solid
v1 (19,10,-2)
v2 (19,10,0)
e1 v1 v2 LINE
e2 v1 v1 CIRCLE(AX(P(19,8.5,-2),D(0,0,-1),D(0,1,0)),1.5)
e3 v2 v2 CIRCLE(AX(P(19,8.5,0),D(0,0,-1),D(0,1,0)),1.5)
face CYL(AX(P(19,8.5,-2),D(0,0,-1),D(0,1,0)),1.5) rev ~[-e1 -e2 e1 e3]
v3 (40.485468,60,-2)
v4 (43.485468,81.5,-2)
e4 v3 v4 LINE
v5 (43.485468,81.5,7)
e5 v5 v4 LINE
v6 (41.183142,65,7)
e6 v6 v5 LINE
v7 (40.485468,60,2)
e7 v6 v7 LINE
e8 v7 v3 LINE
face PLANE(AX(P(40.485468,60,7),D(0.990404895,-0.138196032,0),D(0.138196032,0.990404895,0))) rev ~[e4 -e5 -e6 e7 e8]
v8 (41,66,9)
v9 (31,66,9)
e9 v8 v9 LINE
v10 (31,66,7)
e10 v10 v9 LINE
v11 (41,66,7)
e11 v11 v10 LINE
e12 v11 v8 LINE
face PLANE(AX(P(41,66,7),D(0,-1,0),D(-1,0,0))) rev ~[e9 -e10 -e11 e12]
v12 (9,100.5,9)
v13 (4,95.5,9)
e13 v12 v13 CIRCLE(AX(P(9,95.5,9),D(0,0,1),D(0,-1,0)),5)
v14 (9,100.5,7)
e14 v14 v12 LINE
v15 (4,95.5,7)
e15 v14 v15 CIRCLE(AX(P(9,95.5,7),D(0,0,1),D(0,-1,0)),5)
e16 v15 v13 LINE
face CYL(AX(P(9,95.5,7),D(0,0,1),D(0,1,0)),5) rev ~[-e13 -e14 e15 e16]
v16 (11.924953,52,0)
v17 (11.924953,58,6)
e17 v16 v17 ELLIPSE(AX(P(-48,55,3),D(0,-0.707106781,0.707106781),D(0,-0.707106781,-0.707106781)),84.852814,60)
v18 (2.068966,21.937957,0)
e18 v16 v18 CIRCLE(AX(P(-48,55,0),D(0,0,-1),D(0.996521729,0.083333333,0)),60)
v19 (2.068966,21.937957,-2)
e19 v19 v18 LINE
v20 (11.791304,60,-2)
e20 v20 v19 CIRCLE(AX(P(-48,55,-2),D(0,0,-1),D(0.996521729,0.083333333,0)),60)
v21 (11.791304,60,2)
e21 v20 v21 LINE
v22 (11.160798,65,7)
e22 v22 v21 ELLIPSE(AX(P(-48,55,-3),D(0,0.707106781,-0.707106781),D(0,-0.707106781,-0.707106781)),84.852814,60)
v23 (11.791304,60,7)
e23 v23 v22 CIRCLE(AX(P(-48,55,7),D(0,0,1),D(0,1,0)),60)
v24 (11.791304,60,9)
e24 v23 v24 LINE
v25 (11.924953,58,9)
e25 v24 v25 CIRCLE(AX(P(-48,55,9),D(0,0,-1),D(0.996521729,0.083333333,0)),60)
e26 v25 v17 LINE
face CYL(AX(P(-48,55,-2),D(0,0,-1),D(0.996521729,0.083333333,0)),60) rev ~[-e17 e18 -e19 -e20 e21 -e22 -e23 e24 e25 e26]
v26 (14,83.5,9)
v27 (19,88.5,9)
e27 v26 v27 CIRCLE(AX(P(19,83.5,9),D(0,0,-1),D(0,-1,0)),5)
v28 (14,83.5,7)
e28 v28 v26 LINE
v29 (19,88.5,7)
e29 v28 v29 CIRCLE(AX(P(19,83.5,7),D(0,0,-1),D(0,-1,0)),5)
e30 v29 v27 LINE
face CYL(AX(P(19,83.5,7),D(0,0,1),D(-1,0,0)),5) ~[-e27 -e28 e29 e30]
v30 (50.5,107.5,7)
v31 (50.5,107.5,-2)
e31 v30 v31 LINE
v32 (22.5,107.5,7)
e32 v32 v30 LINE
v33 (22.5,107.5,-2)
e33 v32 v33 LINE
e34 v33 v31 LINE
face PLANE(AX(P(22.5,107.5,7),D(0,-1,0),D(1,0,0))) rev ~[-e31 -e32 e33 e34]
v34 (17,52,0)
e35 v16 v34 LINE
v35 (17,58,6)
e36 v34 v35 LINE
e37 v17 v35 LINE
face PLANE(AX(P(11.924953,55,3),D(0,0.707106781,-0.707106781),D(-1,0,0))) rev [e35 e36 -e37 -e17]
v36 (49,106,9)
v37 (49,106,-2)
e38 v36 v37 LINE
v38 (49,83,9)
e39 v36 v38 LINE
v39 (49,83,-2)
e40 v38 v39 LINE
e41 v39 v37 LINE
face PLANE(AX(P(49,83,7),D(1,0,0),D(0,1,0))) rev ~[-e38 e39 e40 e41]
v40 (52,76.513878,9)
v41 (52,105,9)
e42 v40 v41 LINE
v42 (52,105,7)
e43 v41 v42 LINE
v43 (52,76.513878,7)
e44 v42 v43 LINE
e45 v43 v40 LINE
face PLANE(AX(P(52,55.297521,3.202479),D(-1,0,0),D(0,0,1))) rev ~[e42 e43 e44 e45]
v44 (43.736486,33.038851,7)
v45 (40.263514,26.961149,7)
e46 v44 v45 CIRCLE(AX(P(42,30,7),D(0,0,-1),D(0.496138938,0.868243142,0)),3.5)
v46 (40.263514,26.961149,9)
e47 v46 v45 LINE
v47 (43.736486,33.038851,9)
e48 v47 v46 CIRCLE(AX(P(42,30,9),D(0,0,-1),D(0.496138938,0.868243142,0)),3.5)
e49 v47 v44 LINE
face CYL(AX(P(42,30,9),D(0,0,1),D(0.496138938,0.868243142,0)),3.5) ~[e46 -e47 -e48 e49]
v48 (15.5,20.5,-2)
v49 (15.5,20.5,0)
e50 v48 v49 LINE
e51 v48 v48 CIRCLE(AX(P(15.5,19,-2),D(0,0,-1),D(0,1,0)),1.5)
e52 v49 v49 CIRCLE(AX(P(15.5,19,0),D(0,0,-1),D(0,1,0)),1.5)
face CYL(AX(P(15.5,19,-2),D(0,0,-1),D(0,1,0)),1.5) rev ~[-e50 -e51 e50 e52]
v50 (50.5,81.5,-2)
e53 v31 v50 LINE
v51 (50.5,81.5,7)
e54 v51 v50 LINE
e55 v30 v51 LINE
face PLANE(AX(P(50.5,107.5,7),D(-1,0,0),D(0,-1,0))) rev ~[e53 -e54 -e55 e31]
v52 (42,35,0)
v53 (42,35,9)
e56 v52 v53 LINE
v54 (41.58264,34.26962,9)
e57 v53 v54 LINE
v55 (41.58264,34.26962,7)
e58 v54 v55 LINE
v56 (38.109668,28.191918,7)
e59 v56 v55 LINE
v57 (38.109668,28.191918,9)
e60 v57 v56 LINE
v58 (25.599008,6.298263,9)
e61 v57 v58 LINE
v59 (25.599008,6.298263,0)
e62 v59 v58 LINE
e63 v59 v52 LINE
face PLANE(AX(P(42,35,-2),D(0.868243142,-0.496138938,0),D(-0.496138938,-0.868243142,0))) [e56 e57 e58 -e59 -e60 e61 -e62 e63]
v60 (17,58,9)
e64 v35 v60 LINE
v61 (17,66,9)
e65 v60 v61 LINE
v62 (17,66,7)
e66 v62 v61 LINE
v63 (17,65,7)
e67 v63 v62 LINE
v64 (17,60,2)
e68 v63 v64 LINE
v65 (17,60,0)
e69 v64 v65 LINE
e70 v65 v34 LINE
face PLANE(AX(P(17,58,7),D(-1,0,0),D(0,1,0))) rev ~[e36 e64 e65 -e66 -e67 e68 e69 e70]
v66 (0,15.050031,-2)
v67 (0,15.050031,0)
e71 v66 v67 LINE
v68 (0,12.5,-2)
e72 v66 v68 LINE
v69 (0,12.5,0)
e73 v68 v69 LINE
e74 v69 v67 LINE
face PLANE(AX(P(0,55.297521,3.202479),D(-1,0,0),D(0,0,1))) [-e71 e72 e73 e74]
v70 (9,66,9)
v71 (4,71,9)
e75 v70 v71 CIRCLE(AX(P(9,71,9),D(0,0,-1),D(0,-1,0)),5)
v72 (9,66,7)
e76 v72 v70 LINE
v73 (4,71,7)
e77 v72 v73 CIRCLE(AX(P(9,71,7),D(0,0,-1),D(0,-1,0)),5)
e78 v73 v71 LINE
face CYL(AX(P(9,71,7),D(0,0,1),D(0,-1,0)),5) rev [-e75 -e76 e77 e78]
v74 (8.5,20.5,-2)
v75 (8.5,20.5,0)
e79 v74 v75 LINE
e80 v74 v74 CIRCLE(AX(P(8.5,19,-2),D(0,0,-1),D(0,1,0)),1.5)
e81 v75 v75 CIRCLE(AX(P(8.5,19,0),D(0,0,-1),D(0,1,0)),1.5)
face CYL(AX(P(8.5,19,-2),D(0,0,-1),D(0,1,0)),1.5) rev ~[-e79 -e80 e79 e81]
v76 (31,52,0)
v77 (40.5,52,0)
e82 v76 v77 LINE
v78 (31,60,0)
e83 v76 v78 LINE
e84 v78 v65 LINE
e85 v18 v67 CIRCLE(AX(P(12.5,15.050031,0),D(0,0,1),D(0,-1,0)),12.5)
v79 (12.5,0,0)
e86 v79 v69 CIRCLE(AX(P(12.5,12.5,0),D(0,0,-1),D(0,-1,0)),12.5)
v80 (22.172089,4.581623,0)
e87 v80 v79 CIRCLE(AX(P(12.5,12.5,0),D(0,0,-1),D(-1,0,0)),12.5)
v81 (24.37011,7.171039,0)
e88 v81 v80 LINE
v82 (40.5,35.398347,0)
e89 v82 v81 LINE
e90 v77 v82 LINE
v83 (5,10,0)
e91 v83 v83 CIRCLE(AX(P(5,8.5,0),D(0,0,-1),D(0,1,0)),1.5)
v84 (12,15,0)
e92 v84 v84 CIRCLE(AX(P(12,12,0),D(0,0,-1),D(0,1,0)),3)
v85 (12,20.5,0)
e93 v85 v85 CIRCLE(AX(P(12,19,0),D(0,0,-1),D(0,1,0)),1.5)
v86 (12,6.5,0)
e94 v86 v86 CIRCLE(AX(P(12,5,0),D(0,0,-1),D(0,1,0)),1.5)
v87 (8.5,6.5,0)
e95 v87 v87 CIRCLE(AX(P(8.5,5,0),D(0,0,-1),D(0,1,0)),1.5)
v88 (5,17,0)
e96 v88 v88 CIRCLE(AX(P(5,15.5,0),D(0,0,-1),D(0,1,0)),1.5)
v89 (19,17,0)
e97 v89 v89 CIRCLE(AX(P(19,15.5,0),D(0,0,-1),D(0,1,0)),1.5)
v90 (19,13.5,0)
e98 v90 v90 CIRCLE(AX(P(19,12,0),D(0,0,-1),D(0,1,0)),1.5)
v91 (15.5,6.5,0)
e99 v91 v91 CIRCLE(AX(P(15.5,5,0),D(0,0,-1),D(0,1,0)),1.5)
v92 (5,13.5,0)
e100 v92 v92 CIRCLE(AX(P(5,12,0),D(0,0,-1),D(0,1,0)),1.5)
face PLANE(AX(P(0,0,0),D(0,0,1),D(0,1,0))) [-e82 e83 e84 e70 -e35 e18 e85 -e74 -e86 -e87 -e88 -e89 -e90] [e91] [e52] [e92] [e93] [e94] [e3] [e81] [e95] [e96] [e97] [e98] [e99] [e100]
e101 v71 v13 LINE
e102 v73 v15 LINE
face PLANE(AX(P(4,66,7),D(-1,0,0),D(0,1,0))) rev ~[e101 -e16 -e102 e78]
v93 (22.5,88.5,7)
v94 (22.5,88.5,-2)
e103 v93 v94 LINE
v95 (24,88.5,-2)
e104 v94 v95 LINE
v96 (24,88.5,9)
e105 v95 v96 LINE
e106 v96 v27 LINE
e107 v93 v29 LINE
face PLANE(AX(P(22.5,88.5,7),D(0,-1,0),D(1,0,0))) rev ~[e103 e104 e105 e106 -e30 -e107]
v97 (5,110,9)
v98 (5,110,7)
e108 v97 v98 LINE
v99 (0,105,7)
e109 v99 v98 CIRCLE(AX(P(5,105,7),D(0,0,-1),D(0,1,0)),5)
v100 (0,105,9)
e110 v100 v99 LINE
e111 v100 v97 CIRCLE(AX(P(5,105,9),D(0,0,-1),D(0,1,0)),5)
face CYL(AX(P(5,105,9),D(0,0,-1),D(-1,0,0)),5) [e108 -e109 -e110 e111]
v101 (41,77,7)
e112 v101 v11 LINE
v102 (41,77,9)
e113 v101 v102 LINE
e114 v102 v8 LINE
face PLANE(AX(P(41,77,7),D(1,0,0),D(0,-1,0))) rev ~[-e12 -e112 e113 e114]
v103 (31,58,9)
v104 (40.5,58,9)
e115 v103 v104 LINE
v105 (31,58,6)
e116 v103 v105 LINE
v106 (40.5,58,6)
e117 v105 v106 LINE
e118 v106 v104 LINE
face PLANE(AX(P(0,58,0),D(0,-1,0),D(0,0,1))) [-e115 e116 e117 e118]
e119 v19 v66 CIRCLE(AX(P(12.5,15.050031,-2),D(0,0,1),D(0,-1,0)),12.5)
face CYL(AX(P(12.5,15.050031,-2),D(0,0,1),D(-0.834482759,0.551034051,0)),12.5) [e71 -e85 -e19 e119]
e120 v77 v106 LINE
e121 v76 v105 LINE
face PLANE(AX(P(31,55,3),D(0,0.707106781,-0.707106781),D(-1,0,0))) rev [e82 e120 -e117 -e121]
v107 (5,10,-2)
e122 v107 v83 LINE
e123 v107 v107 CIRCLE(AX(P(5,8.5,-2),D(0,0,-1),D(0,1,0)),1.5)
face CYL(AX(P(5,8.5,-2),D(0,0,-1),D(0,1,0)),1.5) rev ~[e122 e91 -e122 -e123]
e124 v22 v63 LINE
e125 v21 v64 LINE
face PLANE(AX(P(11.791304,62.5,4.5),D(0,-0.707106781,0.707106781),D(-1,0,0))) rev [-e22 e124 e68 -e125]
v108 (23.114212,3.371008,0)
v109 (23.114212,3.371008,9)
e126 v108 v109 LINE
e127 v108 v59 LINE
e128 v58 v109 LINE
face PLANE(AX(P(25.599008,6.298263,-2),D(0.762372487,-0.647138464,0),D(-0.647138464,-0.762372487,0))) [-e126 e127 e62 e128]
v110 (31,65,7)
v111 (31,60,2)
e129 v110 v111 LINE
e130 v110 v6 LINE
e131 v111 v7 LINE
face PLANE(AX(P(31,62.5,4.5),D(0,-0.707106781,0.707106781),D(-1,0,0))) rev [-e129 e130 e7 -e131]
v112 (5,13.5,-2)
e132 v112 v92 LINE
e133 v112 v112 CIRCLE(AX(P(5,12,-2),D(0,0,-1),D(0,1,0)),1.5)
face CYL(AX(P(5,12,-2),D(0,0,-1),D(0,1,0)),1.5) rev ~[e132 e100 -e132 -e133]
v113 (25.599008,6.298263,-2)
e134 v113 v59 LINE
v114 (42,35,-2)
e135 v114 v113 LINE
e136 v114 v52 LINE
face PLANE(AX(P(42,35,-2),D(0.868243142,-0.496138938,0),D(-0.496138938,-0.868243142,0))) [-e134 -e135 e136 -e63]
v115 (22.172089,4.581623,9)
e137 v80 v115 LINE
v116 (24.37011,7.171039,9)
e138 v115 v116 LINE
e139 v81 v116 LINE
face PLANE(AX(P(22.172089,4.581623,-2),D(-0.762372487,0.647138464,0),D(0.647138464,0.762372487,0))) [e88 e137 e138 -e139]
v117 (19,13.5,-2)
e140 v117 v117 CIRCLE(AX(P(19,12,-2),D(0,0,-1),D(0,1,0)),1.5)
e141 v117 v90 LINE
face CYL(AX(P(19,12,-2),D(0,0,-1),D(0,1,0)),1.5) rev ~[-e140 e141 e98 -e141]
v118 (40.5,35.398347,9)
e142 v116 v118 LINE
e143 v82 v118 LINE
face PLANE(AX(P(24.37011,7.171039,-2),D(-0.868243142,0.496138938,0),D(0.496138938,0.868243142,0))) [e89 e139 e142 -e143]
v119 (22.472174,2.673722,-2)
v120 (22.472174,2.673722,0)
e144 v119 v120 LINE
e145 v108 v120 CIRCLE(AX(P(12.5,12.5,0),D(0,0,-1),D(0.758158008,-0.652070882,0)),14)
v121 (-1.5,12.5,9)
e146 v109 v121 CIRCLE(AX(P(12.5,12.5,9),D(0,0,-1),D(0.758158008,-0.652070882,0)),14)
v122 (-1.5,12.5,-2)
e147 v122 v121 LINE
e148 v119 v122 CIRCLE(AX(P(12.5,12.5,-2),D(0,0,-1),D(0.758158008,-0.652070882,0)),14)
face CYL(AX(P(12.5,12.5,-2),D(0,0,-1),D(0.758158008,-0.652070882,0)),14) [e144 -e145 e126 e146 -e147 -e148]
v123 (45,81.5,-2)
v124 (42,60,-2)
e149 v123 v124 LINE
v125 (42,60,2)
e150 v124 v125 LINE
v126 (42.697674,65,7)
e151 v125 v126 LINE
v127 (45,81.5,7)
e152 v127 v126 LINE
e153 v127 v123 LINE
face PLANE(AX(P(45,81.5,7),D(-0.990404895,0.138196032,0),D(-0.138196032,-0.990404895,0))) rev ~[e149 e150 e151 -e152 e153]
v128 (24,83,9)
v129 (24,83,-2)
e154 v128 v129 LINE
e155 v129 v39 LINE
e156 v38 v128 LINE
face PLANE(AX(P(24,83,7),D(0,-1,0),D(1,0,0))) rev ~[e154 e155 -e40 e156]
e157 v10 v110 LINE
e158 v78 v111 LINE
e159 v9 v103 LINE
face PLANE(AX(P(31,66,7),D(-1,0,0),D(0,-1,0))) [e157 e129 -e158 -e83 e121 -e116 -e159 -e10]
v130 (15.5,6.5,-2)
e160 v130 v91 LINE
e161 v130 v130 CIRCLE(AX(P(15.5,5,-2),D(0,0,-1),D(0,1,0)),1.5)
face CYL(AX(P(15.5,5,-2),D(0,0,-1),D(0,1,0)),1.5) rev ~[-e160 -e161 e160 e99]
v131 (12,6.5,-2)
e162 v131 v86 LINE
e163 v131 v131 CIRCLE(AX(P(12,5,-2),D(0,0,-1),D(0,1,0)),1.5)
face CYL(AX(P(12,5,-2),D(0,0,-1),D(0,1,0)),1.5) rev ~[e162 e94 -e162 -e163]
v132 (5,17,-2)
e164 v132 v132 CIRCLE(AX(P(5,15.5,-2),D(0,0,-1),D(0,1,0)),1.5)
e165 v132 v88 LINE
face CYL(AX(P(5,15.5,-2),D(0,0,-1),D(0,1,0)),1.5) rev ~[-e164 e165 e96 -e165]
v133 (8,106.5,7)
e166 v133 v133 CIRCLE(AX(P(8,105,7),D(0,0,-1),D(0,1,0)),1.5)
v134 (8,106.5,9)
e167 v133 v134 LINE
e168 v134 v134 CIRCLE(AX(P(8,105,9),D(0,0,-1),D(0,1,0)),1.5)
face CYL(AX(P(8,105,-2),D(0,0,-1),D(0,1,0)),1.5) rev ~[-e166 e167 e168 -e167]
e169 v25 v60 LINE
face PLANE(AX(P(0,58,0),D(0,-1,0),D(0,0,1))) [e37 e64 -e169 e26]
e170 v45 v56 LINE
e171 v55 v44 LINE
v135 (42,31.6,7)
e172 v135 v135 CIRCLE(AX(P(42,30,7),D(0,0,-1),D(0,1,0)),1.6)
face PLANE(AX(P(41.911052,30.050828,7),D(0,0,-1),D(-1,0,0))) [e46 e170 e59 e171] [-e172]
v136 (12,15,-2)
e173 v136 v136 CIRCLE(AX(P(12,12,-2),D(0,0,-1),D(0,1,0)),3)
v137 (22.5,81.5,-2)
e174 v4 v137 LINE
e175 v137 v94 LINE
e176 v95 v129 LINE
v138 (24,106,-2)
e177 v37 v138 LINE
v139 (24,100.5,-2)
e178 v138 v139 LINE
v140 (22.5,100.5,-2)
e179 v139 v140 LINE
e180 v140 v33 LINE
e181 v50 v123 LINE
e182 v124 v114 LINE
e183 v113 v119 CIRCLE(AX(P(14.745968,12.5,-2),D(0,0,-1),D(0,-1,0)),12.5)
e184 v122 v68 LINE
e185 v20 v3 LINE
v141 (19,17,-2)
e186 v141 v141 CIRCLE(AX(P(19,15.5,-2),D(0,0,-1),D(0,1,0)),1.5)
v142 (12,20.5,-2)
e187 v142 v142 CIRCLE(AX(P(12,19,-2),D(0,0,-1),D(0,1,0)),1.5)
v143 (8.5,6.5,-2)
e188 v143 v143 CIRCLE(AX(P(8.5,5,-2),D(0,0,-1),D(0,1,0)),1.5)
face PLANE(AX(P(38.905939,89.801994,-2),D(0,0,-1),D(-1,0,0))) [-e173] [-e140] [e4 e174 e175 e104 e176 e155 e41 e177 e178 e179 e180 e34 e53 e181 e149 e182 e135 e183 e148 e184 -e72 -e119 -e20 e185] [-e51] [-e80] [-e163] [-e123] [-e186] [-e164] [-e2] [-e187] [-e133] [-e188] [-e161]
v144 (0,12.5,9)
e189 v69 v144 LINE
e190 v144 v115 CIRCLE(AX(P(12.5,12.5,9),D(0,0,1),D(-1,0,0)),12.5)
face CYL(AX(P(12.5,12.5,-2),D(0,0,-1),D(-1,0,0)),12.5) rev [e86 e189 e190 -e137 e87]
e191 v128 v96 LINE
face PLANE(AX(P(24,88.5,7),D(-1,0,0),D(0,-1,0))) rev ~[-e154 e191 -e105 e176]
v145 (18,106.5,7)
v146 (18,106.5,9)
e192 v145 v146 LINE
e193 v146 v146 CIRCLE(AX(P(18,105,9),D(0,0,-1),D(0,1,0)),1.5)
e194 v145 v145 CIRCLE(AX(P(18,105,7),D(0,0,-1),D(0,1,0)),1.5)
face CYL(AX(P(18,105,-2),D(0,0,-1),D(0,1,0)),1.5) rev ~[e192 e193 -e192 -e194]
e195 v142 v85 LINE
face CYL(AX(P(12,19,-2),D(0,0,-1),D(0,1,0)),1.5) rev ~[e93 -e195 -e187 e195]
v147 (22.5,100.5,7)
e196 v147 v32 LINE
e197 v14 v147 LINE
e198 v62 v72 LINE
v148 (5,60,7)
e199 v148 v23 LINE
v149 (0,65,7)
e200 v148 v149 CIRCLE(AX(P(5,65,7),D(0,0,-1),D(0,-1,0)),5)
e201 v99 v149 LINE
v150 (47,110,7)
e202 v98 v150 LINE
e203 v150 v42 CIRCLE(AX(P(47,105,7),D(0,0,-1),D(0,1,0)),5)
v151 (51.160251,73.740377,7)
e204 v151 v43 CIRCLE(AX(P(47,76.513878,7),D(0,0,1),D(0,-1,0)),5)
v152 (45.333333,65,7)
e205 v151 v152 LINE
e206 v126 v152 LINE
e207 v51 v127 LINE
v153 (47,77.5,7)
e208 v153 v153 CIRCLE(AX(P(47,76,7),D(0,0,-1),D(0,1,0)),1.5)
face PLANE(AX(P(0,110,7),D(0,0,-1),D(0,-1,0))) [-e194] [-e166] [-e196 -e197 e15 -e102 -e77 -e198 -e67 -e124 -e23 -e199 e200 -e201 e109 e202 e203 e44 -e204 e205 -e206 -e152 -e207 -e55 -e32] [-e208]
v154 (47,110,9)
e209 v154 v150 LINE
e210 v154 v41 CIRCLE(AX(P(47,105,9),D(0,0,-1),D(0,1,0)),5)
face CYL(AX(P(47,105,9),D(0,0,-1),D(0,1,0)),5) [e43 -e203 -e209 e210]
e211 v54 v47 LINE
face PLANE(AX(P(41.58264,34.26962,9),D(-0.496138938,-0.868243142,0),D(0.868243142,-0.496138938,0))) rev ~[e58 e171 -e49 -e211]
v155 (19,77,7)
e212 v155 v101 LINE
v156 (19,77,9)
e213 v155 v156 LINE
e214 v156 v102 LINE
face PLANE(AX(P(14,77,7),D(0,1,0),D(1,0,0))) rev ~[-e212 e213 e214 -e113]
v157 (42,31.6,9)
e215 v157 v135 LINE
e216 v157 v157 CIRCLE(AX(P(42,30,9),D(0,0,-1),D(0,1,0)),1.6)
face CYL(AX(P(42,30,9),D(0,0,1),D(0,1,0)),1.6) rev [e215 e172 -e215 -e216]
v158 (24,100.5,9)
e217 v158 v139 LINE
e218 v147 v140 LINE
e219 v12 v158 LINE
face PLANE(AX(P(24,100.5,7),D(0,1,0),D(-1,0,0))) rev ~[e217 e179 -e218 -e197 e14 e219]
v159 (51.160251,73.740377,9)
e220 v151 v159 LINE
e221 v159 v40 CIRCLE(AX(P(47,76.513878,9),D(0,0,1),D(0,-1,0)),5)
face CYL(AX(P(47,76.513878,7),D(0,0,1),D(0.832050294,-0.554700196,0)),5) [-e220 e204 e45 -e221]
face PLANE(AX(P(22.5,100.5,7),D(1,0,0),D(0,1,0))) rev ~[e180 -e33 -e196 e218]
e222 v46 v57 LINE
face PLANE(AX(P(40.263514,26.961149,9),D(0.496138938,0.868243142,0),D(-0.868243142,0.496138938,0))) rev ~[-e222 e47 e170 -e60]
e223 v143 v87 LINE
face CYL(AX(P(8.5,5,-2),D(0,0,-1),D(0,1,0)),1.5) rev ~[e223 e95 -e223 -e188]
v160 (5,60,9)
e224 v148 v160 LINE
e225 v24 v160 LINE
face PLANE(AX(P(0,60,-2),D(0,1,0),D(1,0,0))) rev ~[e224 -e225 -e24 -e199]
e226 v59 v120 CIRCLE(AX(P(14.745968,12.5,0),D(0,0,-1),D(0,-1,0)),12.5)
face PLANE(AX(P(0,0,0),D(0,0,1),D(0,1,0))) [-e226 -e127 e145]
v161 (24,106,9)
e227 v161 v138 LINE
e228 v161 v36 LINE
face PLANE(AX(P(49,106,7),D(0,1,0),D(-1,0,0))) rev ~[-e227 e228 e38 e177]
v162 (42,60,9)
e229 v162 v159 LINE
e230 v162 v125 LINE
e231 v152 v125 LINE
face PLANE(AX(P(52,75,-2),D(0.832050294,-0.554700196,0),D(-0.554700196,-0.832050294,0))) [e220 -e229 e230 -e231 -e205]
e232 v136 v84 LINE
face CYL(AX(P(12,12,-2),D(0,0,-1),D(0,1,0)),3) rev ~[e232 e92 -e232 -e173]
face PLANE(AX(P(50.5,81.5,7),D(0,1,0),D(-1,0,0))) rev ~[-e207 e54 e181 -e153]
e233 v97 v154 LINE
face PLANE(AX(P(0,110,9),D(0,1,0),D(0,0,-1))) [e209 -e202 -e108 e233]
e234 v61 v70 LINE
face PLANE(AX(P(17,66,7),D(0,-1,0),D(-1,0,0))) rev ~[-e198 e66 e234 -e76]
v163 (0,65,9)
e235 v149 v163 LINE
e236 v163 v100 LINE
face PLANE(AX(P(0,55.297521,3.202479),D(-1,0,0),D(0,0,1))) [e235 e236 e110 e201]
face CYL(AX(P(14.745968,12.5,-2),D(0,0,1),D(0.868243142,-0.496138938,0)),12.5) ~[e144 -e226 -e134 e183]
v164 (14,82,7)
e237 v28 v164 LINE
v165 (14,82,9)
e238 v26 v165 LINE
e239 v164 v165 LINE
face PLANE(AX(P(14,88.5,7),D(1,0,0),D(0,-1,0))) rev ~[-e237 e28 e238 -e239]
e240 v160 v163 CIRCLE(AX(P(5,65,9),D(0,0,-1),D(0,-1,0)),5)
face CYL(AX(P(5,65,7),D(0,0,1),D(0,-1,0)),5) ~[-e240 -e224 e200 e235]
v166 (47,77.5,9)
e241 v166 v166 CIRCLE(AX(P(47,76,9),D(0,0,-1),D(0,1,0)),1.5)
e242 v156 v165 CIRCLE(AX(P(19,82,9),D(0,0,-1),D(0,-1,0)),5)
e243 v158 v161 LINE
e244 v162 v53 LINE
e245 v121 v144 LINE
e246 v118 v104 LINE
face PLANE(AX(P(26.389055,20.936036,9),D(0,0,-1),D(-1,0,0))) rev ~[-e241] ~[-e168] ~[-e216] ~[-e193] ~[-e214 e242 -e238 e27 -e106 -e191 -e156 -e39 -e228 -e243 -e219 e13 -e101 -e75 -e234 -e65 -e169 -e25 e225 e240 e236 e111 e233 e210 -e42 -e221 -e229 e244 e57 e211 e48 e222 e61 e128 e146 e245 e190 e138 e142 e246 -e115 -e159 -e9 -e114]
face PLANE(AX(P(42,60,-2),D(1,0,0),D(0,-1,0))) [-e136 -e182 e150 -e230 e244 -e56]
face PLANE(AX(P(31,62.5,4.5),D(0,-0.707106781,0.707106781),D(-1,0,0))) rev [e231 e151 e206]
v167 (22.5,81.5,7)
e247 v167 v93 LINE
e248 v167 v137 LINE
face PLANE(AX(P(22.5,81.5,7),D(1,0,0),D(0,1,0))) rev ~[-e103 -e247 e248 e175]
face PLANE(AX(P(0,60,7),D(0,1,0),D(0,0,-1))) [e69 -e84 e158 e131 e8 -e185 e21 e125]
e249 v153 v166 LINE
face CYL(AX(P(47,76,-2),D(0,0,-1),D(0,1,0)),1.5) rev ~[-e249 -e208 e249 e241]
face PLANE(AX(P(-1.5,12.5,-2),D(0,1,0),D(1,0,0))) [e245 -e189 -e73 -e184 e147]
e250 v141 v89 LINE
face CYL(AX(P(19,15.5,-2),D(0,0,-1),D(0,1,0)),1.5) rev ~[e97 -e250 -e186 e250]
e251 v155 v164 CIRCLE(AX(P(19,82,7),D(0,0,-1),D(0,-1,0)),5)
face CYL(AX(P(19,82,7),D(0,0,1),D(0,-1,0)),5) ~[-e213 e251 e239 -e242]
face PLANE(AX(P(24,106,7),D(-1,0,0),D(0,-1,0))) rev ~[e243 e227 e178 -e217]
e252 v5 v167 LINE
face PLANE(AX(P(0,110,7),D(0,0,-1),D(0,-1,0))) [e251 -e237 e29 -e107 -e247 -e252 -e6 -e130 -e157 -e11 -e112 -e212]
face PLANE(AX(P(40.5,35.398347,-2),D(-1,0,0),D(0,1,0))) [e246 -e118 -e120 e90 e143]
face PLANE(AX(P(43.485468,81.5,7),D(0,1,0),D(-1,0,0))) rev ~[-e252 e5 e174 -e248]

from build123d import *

# Parameters (mm, degrees)
EXTRUDE_1_DEPTH                 = 52
CUT_EXTRUDE_1_REACH             = 124.004
CUT_EXTRUDE_1_DIRECTION_2_DEPTH = 7
SKETCH_3_R                      = 1.5
SKETCH_3_R_2                    = 3
CUT_EXTRUDE_2_DEPTH             = 123.167917229
FILLET_1_R                      = 5
CHAMFER_1_SIZE                  = 5
FILLET_2_R                      = 12.5
EXTRUDE_2_DEPTH                 = 9
EXTRUDE_3_DEPTH                 = 9
EXTRUDE_3_DEPTH_BACK            = 2
CHAMFER_3_SIZE                  = 6
EXTRUDE_START                   = -11
SKETCH_7_R                      = 1.6
EXTRUDE_4_DEPTH                 = 2


with BuildPart() as part:
    # 草图1 → 凸台-拉伸1 (new body)
    with BuildSketch(Plane(origin=(0, 0, 0), x_dir=(0, 0, -1), z_dir=(1, 0, 0))):
        Polygon((0, 0), (0, 58), (-9, 58), (-9, 110), (-7, 110), (-7, 60), (2, 60), (2, 0), align=None)
    extrude(amount=EXTRUDE_1_DEPTH)

    # 草图2 → 切除-拉伸1 (cut, up to next)
    with BuildSketch(Plane(origin=(0, 0, 7), x_dir=(-1, 0, 0), z_dir=(0, 0, -1)), mode=Mode.PRIVATE) as cut_extrude_1_sk1:
        Polygon((-49, 106), (-49, 83), (-24, 83), (-24, 88.5), (-14, 88.5), (-14, 77), (-41, 77), (-41, 66), (-31, 66), (-31, 58), (-17, 58), (-17, 66), (-4, 66), (-4, 100.5), (-24, 100.5), (-24, 106), align=None)
    cut_extrude_1_tool1 = extrude(cut_extrude_1_sk1.sketch, amount=-CUT_EXTRUDE_1_REACH, mode=Mode.PRIVATE) & part.part
    add(cut_extrude_1_tool1.solids().sort_by_distance((25.692202, 84.595066, 7))[0], mode=Mode.SUBTRACT)

    # 草图2 → 切除-拉伸1 direction 2 (cut)
    with BuildSketch(Plane(origin=(0, 0, 7), x_dir=(-1, 0, 0), z_dir=(0, 0, -1))):
        Polygon((-49, 106), (-49, 83), (-24, 83), (-24, 88.5), (-14, 88.5), (-14, 77), (-41, 77), (-41, 66), (-31, 66), (-31, 58), (-17, 58), (-17, 66), (-4, 66), (-4, 100.5), (-24, 100.5), (-24, 106), align=None)
    extrude(amount=CUT_EXTRUDE_1_DIRECTION_2_DEPTH, mode=Mode.SUBTRACT)

    # 草图3 → 切除-拉伸2 (cut, through all)
    with BuildSketch(Plane(origin=(0, 0, -2), x_dir=(-1, 0, 0), z_dir=(0, 0, -1))):
        with Locations(Location((-15.5, 19, 0), (0, 0, 90))):
            Circle(SKETCH_3_R)
        with Locations(Location((-12, 19, 0), (0, 0, 90))):
            Circle(SKETCH_3_R)
        with Locations(Location((-8.5, 19, 0), (0, 0, 90))):
            Circle(SKETCH_3_R)
        with Locations(Location((-8.5, 5, 0), (0, 0, 90))):
            Circle(SKETCH_3_R)
        with Locations(Location((-12, 5, 0), (0, 0, 90))):
            Circle(SKETCH_3_R)
        with Locations(Location((-15.5, 5, 0), (0, 0, 90))):
            Circle(SKETCH_3_R)
        with Locations(Location((-5, 15.5, 0), (0, 0, 90))):
            Circle(SKETCH_3_R)
        with Locations(Location((-5, 12, 0), (0, 0, 90))):
            Circle(SKETCH_3_R)
        with Locations(Location((-5, 8.5, 0), (0, 0, 90))):
            Circle(SKETCH_3_R)
        with Locations(Location((-19, 8.5, 0), (0, 0, 90))):
            Circle(SKETCH_3_R)
        with Locations(Location((-19, 12, 0), (0, 0, 90))):
            Circle(SKETCH_3_R)
        with Locations(Location((-19, 15.5, 0), (0, 0, 90))):
            Circle(SKETCH_3_R)
        with Locations(Location((-8, 105, 0), (0, 0, 90))):
            Circle(SKETCH_3_R)
        with Locations(Location((-47, 76, 0), (0, 0, 90))):
            Circle(SKETCH_3_R)
        with Locations(Location((-18, 105, 0), (0, 0, 90))):
            Circle(SKETCH_3_R)
        with Locations(Location((-12, 12, 0), (0, 0, 90))):
            Circle(SKETCH_3_R_2)
        Polygon((-42, 35), (-22, 0), (-52, 0), (-52, 75), (-42, 60), align=None)
        with BuildLine():
            Line((0, 60), (-11.791303716, 60))
            ThreePointArc((-11.791303716, 60), (-9.662737441, 38.416613409), (0, 19))
            Line((0, 19), (0, 60))
        make_face()
    extrude(amount=-CUT_EXTRUDE_2_DEPTH, mode=Mode.SUBTRACT)

    # 圆角1
    fillet_1_edges = [part.edges().sort_by_distance(p)[0] for p in [
        (0, 60, 8),
        (52, 75, 8),
        (52, 110, 8),
        (14, 88.5, 8),
        (14, 77, 8),
        (4, 66, 8),
        (4, 100.5, 8),
        (0, 110, 8),
    ]]
    fillet(fillet_1_edges, radius=FILLET_1_R)

    # 倒角1
    chamfer_1_edges = [part.edges().sort_by_distance(p)[0] for p in [
        (36.5, 60, 7),
        (14.395651858, 60, 7),
    ]]
    chamfer(chamfer_1_edges, length=CHAMFER_1_SIZE)

    # 圆角2
    fillet_2_edges = [part.edges().sort_by_distance(p)[0] for p in [
        (0, 0, -1),
        (22, 0, -1),
        (0, 19, -1),
    ]]
    fillet(fillet_2_edges, radius=FILLET_2_R)

    # 草图4 → 凸台-拉伸2 (add)
    with BuildSketch(Plane(origin=(0, 0, 7), x_dir=(-1, 0, 0), z_dir=(0, 0, -1))):
        Polygon((-24, 88.5), (-24, 83), (-49, 83), (-49, 106), (-24, 106), (-24, 100.5), (-22.5, 100.5), (-22.5, 107.5), (-50.5, 107.5), (-50.5, 81.5), (-45, 81.5), (-42, 60), (-40.485467906, 60), (-43.485467906, 81.5), (-22.5, 81.5), (-22.5, 88.5), align=None)
    extrude(amount=EXTRUDE_2_DEPTH)

    # 草图6 → 凸台-拉伸3 (add, two sides: drawn at the far end of the back side and taken through both)
    with BuildSketch(Plane.XY.offset(-EXTRUDE_3_DEPTH_BACK)):
        with BuildLine():
            Line((42, 58), (42, 35))
            Line((42, 35), (25.599007583, 6.298263271))
            Line((25.599007583, 6.298263271), (23.114212107, 3.371007649))
            ThreePointArc((23.114212107, 3.371007649), (7.631682503, -0.626289832), (-1.5, 12.5))
            Line((-1.5, 12.5), (0, 12.5))
            ThreePointArc((0, 12.5), (8.295901466, 0.728188095), (22.172088883, 4.581622853))
            Line((22.172088883, 4.581622853), (24.370109829, 7.171038857))
            Line((24.370109829, 7.171038857), (40.5, 35.398346656))
            Line((40.5, 35.398346656), (40.5, 58))
            Line((40.5, 58), (42, 58))
        make_face()
    extrude(amount=EXTRUDE_3_DEPTH + EXTRUDE_3_DEPTH_BACK)

    # 倒角3
    chamfer_3_edges = [part.edges().sort_by_distance(p)[0] for p in [
        (14.462476533, 58, 0),
        (35.75, 58, 0),
    ]]
    chamfer(chamfer_3_edges, length=CHAMFER_3_SIZE)

    # 草图7 → 凸台-拉伸4 (add)
    with BuildSketch(Plane(origin=(0, 0, -2), x_dir=(-1, 0, 0), z_dir=(0, 0, -1)).offset(EXTRUDE_START)):
        with BuildLine():
            Line((-41.58264013, 34.269620228), (-43.736486284, 33.038850997))
            ThreePointArc((-43.736486284, 33.038850997), (-45.038850997, 28.263513716), (-40.263513716, 26.961149003))
            Line((-40.263513716, 26.961149003), (-38.109667562, 28.191918233))
            Line((-38.109667562, 28.191918233), (-41.58264013, 34.269620228))
        make_face()
        with Locations(Location((-42, 30, 0), (0, 0, 90))):
            Circle(SKETCH_7_R, mode=Mode.SUBTRACT)
    extrude(amount=EXTRUDE_4_DEPTH)


solid = part.part
